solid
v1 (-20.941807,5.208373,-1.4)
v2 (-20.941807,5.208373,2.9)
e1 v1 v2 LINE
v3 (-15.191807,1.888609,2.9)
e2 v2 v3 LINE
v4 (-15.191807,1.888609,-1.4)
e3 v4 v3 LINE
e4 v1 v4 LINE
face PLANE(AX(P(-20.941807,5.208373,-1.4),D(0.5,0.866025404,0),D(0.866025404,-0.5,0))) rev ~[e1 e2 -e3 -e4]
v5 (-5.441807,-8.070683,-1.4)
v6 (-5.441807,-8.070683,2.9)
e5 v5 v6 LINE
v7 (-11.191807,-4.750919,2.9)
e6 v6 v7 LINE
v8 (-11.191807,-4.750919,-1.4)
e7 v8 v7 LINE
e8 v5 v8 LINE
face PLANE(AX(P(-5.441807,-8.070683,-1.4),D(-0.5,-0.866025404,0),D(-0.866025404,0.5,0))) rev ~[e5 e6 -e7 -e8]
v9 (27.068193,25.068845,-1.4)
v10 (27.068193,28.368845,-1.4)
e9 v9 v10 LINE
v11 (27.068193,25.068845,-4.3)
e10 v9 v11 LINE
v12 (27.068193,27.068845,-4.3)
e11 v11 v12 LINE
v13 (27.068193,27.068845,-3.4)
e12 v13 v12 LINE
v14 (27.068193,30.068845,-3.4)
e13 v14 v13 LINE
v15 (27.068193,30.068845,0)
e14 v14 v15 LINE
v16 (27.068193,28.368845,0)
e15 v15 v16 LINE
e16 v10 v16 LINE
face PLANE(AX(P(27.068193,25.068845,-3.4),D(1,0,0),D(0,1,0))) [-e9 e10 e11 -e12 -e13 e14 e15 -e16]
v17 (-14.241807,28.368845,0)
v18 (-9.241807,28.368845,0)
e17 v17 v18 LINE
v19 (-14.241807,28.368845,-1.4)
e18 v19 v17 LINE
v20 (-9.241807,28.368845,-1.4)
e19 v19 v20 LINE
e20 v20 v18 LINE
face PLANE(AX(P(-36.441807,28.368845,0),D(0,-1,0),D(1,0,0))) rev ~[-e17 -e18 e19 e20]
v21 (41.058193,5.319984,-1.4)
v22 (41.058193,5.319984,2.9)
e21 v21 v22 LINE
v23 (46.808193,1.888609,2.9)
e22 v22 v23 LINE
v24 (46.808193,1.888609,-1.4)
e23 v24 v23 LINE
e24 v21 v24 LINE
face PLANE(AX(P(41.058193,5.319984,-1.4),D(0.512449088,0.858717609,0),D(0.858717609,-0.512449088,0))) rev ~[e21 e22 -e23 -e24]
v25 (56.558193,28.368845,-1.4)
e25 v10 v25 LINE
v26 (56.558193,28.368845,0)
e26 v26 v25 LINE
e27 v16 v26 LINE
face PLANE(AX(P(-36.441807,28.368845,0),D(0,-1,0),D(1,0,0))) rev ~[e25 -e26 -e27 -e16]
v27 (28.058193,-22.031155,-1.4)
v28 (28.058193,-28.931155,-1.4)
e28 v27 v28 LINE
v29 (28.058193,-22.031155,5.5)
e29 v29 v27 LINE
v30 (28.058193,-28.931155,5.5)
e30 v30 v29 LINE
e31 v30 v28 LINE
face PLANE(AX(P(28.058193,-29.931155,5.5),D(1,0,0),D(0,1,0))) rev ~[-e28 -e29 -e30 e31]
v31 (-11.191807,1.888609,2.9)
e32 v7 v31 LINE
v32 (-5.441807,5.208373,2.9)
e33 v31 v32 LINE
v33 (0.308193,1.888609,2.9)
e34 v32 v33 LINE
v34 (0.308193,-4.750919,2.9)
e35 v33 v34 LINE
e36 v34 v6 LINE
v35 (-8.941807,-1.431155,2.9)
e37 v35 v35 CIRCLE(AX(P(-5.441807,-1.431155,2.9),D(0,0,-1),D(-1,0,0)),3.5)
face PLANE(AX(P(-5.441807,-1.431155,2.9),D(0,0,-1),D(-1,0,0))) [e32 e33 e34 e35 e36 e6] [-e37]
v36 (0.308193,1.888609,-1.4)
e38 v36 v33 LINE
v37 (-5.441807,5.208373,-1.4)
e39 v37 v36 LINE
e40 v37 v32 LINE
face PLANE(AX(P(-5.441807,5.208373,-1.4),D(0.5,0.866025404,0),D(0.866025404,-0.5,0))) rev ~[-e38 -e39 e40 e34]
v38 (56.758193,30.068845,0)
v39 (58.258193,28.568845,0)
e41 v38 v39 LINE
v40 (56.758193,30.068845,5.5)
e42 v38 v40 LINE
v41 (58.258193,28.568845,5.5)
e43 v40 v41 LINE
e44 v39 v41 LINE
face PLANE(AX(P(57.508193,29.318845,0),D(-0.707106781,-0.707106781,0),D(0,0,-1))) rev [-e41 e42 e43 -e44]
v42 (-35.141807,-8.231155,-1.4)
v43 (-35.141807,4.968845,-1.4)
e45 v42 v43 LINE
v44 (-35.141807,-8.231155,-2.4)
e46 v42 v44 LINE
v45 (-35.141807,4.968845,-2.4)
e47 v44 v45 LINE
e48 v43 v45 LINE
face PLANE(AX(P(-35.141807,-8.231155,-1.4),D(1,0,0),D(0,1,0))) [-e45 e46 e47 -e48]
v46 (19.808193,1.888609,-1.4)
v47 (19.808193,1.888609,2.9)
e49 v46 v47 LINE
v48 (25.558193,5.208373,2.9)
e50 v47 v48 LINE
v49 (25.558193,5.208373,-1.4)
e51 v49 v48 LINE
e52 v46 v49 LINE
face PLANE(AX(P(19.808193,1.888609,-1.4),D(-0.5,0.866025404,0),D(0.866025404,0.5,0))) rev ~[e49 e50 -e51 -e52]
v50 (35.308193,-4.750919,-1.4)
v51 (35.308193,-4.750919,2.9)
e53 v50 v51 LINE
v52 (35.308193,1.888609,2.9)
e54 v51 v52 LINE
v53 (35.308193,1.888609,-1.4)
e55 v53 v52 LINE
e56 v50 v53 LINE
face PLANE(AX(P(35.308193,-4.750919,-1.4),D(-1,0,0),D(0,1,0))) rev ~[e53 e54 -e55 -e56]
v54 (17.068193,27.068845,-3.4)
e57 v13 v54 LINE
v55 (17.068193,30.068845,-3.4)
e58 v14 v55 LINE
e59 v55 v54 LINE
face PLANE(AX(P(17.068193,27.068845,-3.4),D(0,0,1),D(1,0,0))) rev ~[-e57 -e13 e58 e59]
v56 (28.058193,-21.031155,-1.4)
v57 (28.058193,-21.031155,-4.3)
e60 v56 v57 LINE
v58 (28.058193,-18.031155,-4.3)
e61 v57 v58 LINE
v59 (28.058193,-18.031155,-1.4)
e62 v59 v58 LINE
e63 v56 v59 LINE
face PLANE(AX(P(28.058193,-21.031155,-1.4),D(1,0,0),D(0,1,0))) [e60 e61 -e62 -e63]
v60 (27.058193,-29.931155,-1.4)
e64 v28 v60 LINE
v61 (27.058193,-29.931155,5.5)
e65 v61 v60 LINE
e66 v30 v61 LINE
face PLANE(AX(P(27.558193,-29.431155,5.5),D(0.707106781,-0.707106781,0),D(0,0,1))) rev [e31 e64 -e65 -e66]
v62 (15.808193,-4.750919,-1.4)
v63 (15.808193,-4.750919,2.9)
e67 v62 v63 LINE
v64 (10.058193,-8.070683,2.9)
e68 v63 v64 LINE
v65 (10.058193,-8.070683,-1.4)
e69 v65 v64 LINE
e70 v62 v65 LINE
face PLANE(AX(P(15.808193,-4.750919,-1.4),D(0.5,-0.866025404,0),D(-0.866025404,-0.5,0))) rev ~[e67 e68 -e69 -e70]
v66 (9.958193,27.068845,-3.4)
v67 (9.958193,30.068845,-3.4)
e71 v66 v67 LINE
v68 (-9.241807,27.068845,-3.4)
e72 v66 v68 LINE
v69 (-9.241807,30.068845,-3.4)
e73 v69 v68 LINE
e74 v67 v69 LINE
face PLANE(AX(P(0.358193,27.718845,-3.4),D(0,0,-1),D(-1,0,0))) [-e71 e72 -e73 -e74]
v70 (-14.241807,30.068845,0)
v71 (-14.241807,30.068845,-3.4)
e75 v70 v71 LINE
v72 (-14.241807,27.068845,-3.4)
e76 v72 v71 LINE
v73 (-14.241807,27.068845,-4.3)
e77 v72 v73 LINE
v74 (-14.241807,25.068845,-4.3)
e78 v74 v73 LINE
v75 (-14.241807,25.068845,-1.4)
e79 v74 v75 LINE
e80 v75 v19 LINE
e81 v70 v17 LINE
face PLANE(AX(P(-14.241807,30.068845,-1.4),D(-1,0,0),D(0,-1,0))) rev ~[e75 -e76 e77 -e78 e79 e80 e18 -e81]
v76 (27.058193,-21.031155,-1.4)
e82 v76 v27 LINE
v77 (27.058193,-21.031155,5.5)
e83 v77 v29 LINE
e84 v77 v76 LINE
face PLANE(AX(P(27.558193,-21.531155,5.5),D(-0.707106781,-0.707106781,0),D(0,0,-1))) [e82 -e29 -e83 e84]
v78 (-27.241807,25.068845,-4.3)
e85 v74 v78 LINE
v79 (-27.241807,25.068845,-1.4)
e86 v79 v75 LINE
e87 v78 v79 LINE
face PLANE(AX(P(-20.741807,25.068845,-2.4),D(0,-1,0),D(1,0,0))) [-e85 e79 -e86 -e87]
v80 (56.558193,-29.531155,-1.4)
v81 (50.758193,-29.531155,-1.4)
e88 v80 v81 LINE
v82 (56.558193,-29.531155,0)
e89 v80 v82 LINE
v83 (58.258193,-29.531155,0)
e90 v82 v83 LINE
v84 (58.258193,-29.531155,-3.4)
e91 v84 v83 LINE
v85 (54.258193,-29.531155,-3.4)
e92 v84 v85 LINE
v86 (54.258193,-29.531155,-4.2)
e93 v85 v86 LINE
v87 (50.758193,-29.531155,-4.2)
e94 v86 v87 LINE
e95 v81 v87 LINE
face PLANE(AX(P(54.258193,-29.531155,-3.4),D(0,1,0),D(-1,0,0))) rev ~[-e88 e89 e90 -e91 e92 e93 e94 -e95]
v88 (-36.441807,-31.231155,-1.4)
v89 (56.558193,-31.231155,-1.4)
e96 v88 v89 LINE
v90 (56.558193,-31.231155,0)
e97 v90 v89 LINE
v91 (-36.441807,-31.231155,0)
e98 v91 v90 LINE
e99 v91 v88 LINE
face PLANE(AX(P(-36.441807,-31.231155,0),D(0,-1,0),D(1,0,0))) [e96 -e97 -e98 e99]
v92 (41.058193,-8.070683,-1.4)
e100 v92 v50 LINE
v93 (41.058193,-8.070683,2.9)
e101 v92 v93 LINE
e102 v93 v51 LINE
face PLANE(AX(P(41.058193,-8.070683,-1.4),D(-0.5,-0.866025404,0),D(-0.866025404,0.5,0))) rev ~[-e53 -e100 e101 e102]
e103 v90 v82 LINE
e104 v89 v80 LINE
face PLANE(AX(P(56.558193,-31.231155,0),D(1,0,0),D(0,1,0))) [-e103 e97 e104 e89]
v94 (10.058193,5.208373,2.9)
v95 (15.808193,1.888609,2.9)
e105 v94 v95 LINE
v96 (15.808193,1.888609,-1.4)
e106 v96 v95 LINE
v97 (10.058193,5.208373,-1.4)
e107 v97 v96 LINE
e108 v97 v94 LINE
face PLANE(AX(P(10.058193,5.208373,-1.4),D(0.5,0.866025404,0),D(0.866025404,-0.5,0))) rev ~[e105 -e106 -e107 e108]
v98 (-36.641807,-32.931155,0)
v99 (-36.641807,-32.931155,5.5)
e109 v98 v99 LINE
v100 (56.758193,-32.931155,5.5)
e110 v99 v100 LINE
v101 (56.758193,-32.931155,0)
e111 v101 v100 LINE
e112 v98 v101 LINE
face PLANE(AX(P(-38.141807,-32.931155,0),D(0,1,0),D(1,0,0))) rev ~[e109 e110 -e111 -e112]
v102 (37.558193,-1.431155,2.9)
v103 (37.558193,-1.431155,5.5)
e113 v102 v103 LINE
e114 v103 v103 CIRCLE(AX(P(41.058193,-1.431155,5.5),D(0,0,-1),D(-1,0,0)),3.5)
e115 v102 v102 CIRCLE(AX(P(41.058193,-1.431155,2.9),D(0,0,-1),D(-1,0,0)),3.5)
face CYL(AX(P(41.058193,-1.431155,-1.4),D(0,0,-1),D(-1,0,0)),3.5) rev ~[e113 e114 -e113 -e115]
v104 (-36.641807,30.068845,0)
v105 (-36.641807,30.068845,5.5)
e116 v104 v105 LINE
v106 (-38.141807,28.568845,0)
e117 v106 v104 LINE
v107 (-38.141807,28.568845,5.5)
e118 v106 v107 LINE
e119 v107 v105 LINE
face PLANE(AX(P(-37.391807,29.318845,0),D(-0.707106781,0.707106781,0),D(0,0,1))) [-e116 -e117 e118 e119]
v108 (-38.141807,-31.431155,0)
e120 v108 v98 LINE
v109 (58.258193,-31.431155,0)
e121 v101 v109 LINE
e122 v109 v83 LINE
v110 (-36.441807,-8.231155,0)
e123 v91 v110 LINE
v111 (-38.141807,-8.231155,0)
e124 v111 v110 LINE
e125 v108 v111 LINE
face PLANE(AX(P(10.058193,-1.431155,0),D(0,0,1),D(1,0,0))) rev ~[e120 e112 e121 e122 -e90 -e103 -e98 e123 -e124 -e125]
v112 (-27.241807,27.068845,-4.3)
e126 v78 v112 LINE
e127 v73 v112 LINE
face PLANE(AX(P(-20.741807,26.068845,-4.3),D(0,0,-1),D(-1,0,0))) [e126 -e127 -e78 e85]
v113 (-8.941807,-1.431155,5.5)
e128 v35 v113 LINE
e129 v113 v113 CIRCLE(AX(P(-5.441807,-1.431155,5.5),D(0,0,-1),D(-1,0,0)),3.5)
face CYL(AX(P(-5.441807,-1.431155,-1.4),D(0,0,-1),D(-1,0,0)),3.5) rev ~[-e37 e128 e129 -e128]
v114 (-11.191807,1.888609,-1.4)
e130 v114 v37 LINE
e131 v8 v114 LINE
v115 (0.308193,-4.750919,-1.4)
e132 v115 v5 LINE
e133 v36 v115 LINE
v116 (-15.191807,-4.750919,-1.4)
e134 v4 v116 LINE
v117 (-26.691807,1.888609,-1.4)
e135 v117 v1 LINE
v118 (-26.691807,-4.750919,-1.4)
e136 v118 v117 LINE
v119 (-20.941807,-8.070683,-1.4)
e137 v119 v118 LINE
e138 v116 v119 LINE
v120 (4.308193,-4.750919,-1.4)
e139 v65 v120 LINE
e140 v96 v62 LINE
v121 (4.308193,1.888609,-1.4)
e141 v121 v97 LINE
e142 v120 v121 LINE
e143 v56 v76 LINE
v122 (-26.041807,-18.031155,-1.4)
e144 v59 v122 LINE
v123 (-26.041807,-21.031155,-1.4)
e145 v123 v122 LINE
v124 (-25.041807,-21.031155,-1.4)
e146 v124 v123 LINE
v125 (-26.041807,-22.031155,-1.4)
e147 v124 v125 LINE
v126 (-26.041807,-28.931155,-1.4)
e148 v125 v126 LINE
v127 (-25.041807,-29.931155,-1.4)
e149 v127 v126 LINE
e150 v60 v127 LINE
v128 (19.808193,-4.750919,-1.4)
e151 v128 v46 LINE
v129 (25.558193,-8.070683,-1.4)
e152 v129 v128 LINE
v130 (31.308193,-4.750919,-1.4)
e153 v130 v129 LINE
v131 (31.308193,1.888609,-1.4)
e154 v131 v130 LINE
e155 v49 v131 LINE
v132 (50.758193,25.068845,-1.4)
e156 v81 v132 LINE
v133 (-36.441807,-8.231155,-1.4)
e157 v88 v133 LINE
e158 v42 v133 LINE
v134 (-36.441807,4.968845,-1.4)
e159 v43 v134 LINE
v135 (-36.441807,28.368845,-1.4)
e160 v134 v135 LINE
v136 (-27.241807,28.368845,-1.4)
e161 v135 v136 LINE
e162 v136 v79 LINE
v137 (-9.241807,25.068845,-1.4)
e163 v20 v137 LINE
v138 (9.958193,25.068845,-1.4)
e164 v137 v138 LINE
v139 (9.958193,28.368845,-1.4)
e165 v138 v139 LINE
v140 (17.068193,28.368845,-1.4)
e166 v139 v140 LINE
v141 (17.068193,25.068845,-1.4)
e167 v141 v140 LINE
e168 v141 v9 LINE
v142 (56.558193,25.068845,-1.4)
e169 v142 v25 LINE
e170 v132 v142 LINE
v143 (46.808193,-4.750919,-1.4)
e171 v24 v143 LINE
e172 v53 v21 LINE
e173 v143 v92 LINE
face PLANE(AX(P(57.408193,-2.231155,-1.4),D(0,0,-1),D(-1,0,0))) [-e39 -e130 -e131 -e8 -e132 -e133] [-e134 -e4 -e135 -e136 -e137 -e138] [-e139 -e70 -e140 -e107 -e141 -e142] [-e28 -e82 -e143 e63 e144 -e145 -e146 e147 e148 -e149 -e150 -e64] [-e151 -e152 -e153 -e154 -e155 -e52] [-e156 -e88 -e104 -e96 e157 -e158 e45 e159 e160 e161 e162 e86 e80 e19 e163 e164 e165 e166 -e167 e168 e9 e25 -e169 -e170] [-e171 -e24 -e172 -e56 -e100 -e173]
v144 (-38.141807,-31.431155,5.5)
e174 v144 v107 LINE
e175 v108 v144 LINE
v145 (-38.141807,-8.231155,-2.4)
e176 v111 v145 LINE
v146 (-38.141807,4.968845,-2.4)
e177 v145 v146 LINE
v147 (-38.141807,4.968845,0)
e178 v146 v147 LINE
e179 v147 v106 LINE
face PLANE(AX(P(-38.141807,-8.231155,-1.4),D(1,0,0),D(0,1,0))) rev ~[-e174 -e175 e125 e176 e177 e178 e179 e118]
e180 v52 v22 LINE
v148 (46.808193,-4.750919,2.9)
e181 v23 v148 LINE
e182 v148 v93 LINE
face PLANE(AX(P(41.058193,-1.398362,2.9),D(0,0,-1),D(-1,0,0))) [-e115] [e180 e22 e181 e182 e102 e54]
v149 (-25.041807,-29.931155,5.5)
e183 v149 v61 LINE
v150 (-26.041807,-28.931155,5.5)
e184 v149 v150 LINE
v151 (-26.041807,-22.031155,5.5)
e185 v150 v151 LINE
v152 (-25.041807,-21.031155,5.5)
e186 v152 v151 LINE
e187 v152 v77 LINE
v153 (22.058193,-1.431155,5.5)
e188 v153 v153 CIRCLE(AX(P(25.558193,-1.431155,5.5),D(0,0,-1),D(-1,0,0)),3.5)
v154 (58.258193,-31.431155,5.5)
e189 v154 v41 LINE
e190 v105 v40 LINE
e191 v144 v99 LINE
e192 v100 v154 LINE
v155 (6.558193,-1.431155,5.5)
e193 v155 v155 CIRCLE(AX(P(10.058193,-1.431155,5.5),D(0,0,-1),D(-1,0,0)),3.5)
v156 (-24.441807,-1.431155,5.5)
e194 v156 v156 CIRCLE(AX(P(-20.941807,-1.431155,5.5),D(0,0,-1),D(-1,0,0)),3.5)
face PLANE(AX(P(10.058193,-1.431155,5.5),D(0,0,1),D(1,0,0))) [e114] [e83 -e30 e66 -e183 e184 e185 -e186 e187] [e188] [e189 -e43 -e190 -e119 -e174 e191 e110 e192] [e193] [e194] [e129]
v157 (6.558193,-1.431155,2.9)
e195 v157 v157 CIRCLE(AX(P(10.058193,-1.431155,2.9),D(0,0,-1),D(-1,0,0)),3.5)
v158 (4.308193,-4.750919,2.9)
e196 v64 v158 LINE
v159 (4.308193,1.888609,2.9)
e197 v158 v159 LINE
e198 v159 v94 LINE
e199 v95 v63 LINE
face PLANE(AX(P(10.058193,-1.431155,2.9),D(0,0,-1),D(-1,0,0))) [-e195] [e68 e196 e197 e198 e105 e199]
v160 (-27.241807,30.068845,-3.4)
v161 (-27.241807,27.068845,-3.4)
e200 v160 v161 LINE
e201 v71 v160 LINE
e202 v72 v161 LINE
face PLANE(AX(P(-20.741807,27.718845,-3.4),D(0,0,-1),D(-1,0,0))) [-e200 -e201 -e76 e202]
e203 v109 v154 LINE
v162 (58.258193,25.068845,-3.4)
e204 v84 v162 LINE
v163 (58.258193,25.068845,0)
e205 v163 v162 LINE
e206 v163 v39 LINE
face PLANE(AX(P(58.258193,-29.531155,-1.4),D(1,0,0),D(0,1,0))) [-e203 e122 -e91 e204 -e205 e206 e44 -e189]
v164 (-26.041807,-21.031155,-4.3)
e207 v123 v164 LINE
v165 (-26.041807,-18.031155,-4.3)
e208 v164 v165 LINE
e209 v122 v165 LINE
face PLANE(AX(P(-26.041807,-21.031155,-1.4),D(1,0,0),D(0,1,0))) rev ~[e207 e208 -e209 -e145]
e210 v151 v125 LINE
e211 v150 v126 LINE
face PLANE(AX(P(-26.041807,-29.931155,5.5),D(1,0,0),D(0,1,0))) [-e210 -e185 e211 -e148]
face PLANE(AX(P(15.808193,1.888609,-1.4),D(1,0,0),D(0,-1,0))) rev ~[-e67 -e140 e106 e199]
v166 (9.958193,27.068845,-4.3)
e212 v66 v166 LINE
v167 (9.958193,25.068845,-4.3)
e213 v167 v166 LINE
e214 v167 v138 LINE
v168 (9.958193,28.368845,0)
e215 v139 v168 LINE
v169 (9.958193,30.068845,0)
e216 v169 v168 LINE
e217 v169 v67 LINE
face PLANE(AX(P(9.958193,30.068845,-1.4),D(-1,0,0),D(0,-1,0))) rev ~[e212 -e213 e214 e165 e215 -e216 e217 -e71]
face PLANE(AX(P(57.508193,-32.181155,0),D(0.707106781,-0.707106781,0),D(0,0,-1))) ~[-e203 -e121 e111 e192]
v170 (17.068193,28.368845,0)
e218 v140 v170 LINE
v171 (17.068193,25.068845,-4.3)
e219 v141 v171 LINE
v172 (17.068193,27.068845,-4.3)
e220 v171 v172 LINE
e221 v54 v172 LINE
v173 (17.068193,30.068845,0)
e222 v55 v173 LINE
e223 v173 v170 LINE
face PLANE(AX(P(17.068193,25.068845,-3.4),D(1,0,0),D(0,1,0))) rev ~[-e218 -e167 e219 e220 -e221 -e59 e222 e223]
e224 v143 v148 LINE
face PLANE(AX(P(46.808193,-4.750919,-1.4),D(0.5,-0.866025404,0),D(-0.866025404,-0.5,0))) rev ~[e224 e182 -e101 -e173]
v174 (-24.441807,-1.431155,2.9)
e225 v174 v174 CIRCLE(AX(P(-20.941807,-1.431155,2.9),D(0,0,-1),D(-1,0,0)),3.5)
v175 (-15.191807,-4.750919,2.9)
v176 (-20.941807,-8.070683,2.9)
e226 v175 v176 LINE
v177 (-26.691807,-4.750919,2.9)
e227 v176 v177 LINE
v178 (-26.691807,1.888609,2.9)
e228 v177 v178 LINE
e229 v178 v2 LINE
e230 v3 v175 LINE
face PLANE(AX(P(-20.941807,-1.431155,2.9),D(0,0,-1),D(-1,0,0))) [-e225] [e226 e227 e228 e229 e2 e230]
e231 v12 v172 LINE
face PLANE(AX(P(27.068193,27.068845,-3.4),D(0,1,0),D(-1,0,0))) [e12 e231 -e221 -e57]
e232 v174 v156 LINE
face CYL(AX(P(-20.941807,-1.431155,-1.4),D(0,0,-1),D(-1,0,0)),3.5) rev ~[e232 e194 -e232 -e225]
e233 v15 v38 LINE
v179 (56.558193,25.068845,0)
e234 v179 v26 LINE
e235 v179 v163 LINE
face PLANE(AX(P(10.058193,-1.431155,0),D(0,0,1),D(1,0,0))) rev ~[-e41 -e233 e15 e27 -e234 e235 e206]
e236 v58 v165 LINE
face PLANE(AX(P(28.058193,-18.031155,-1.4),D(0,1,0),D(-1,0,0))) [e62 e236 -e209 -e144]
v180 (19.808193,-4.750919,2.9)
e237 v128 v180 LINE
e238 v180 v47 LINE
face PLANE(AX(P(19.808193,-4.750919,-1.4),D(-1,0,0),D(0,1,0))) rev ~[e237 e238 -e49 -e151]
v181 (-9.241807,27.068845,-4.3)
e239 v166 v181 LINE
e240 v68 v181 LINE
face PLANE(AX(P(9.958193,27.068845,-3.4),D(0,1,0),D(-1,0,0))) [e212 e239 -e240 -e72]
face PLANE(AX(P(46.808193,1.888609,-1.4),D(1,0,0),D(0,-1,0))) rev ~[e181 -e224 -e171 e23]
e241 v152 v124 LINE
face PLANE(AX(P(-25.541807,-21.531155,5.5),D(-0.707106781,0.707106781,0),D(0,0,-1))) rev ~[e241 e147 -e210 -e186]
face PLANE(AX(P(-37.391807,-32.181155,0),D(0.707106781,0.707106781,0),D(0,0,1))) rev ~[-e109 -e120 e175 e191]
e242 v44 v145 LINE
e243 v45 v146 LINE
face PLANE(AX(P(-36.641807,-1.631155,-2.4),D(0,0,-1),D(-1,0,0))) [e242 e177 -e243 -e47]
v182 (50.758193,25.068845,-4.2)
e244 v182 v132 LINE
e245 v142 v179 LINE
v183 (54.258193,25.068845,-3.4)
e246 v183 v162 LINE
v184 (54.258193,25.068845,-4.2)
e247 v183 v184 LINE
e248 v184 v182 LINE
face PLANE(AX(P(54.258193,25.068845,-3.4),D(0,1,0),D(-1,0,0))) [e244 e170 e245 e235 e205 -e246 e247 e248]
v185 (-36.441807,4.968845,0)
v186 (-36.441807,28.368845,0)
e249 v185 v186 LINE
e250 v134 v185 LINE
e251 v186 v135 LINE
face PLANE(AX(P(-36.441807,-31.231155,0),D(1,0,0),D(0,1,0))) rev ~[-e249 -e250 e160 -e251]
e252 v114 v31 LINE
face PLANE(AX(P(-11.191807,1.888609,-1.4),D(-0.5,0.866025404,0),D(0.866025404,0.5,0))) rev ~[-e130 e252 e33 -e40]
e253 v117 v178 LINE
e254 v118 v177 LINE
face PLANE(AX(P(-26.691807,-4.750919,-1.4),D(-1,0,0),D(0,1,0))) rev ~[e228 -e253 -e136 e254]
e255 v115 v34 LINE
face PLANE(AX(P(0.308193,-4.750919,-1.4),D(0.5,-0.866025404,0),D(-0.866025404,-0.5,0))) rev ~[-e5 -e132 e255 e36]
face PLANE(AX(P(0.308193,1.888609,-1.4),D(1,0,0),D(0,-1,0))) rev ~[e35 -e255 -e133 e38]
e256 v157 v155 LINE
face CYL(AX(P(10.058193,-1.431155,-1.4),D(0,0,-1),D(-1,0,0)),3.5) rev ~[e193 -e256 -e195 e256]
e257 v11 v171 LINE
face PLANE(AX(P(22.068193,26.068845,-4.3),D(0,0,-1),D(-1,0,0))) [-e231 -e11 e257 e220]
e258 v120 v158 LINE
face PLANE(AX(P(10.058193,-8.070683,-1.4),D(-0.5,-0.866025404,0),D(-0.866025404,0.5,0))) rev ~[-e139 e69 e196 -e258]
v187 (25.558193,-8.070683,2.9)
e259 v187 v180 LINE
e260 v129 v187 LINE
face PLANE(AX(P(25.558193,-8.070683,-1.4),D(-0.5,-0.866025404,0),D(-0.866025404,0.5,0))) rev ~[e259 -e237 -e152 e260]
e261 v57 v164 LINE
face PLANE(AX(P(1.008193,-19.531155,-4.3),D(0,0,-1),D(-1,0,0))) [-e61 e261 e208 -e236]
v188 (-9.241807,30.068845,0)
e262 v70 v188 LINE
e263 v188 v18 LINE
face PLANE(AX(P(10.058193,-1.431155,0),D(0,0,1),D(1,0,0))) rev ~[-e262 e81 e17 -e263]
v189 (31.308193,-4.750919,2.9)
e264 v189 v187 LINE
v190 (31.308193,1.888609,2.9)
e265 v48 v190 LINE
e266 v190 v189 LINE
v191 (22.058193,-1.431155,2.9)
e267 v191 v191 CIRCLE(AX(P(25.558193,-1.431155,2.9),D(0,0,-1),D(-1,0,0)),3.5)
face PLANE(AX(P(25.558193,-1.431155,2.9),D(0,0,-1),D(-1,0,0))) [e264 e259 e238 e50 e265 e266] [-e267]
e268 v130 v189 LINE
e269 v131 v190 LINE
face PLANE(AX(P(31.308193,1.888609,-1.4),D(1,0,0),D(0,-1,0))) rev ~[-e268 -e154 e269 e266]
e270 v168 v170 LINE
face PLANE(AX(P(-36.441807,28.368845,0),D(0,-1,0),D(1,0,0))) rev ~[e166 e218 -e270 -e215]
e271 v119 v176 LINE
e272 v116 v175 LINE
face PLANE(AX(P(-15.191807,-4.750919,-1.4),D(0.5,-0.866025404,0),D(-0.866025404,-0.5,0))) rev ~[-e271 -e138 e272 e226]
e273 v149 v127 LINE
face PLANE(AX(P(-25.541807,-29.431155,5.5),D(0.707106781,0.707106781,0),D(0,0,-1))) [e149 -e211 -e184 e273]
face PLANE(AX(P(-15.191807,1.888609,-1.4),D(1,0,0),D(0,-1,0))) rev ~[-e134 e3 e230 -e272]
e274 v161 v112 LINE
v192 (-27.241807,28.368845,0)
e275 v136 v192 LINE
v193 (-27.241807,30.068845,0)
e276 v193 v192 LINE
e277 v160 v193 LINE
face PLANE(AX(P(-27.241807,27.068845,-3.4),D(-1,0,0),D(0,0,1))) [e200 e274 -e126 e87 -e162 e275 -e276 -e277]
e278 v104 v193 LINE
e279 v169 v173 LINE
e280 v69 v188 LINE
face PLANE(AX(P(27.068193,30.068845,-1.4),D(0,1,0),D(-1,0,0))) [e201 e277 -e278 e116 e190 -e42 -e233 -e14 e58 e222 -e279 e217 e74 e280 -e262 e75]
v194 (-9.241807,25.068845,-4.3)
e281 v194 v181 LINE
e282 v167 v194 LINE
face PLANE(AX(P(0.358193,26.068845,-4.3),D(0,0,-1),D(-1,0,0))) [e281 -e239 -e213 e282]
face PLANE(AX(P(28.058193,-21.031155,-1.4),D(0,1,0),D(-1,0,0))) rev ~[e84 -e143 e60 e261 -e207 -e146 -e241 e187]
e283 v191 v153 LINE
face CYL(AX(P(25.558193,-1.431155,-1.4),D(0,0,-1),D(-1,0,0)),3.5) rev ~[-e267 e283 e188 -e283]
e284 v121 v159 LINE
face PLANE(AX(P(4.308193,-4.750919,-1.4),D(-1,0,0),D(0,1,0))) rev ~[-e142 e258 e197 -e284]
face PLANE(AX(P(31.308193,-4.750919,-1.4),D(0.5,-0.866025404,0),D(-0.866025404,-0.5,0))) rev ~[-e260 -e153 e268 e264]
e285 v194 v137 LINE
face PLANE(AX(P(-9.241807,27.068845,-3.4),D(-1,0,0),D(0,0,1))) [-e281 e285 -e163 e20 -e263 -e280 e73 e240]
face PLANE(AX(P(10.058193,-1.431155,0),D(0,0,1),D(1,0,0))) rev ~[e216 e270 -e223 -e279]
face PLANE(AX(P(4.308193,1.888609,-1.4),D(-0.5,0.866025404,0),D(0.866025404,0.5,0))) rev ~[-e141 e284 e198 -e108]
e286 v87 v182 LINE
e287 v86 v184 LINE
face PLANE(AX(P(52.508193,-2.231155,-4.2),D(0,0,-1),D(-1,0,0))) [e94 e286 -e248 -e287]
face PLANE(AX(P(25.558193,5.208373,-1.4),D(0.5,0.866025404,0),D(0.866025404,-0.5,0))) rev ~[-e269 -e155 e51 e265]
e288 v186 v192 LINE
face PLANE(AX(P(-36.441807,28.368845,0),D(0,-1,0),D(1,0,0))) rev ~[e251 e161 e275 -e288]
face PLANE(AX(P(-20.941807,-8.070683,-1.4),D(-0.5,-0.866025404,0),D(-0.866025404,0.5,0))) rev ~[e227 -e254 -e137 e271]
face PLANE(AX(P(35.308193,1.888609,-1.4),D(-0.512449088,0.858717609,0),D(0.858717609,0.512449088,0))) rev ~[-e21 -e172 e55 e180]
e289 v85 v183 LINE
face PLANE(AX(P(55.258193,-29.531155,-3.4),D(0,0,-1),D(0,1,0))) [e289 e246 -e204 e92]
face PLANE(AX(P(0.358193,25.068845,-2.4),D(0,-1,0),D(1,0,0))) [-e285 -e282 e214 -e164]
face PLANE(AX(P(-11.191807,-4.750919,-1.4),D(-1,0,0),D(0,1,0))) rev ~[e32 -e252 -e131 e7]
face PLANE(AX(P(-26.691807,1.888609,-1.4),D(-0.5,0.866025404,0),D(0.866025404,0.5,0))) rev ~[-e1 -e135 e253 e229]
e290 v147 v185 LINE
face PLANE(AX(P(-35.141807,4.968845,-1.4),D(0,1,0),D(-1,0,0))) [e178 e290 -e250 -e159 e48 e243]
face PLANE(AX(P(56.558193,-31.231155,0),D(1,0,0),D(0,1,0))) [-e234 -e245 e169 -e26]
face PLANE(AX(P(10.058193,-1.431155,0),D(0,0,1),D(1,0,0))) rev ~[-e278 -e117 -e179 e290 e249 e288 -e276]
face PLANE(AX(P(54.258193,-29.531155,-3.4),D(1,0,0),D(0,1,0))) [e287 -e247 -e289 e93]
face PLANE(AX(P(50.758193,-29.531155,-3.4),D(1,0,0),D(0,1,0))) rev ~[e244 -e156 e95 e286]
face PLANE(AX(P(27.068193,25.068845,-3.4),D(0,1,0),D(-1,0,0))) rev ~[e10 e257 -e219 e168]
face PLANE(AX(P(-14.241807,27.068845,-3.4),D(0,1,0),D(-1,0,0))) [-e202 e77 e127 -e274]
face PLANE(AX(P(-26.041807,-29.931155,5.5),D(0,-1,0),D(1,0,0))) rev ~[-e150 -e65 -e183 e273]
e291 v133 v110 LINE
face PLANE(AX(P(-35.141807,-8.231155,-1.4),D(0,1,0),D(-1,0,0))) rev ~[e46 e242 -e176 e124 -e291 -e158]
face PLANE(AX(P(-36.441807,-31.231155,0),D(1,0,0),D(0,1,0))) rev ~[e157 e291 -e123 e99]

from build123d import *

# Parameters (mm, degrees)
SKETCH1_W            = 96.4
SKETCH1_H            = 63
BOSS_EXTRUDE1_DEPTH  = 5.5
SKETCH1_5_W          = 93
SKETCH1_5_H          = 59.6
BOSS_EXTRUDE2_DEPTH  = 1.4
CHAMFER1_SIZE        = 1.5
SKETCH3_W            = 1.7
SKETCH3_H            = 13.2
BOSS_EXTRUDE4_DEPTH  = 1.7
SKETCH4_W            = 13
SKETCH4_H            = 1.7
SKETCH4_W_2          = 10
SKETCH4_W_3          = 19.2
BOSS_EXTRUDE5_DEPTH  = 1.6
SKETCH4_3_W          = 13
SKETCH4_3_H          = 3
SKETCH4_3_W_2        = 10
SKETCH4_3_W_3        = 19.2
BOSS_EXTRUDE6_DEPTH  = 2
SKETCH3_5_W          = 3
SKETCH3_5_H          = 13.2
BOSS_EXTRUDE7_DEPTH  = 1
SKETCH5_W            = 1.7
SKETCH5_H            = 54.6
BOSS_EXTRUDE8_DEPTH  = 1.6
SKETCH5_3_W          = 3
SKETCH5_3_H          = 54.6
BOSS_EXTRUDE9_DEPTH  = 2
SKETCH7_W            = 54.1
SKETCH7_H            = 8.9
CUT_EXTRUDE2_DEPTH   = 12
CHAMFER2_SIZE        = 1
SKETCH11_W           = 10
SKETCH11_H           = 2
SKETCH11_W_2         = 19.2
SKETCH11_W_3         = 13
BOSS_EXTRUDE10_DEPTH = 2
SKETCH13_W           = 10
SKETCH13_H           = 2
SKETCH13_W_2         = 19.2
SKETCH13_W_3         = 13
BOSS_EXTRUDE12_DEPTH = 0.9
SKETCH14_W           = 54.1
SKETCH14_H           = 3
BOSS_EXTRUDE13_DEPTH = 2.9
SKETCH15_W           = 2
SKETCH15_H           = 54.6
BOSS_EXTRUDE14_DEPTH = 4.5
SKETCH16_W           = 3.5
SKETCH16_H           = 54.6
BOSS_EXTRUDE15_DEPTH = 0.8
SKETCH18_R           = 3.5
CUT_EXTRUDE4_DEPTH   = 12
CUT_EXTRUDE5_DEPTH   = 4.3


with BuildPart() as part:
    # Sketch1 → Boss-Extrude1 (new body)
    with BuildSketch(Plane.XY):
        with Locations((10.058192988, -1.431154761)):
            Rectangle(SKETCH1_W, SKETCH1_H)
    extrude(amount=BOSS_EXTRUDE1_DEPTH)

    # Sketch1<5> → Boss-Extrude2 (add)
    with BuildSketch(Plane.XY):
        with Locations((10.058192988, -1.431154761)):
            Rectangle(SKETCH1_5_W, SKETCH1_5_H)
    extrude(amount=-BOSS_EXTRUDE2_DEPTH)

    # Chamfer1
    chamfer1_edges = [part.edges().sort_by_distance(p)[0] for p in [
        (58.258192988, 30.068845239, 2.75),
        (-38.141807012, 30.068845239, 2.75),
        (-38.141807012, -32.931154761, 2.75),
        (58.258192988, -32.931154761, 2.75),
    ]]
    chamfer(chamfer1_edges, length=CHAMFER1_SIZE)

    # Sketch3 → Boss-Extrude4 (add)
    with BuildSketch(Plane(origin=(0, 0, -1.4), x_dir=(-1, 0, 0), z_dir=(0, 0, -1))):
        with Locations((37.291807012, -1.631154761)):
            Rectangle(SKETCH3_W, SKETCH3_H)
    extrude(amount=-BOSS_EXTRUDE4_DEPTH)

    # Sketch4 → Boss-Extrude5 (add)
    with BuildSketch(Plane(origin=(0, 0, -1.4), x_dir=(-1, 0, 0), z_dir=(0, 0, -1))):
        with Locations((20.741807012, 29.218845239)):
            Rectangle(SKETCH4_W, SKETCH4_H)
        with Locations((-22.068192988, 29.218845239)):
            Rectangle(SKETCH4_W_2, SKETCH4_H)
        with Locations((-0.358192988, 29.218845239)):
            Rectangle(SKETCH4_W_3, SKETCH4_H)
    extrude(amount=-BOSS_EXTRUDE5_DEPTH)

    # Sketch4<3> → Boss-Extrude6 (add)
    with BuildSketch(Plane(origin=(0, 0, -1.4), x_dir=(-1, 0, 0), z_dir=(0, 0, -1))):
        with Locations((20.741807012, 28.568845239)):
            Rectangle(SKETCH4_3_W, SKETCH4_3_H)
        with Locations((-22.068192988, 28.568845239)):
            Rectangle(SKETCH4_3_W_2, SKETCH4_3_H)
        with Locations((-0.358192988, 28.568845239)):
            Rectangle(SKETCH4_3_W_3, SKETCH4_3_H)
    extrude(amount=BOSS_EXTRUDE6_DEPTH)

    # Sketch3<5> → Boss-Extrude7 (add)
    with BuildSketch(Plane(origin=(0, 0, -1.4), x_dir=(-1, 0, 0), z_dir=(0, 0, -1))):
        with Locations((36.641807012, -1.631154761)):
            Rectangle(SKETCH3_5_W, SKETCH3_5_H)
    extrude(amount=BOSS_EXTRUDE7_DEPTH)

    # Sketch5 → Boss-Extrude8 (add)
    with BuildSketch(Plane(origin=(0, 0, -1.4), x_dir=(-1, 0, 0), z_dir=(0, 0, -1))):
        with Locations((-57.408192988, -2.231154761)):
            Rectangle(SKETCH5_W, SKETCH5_H)
    extrude(amount=-BOSS_EXTRUDE8_DEPTH)

    # Sketch5<3> → Boss-Extrude9 (add)
    with BuildSketch(Plane(origin=(0, 0, -1.4), x_dir=(-1, 0, 0), z_dir=(0, 0, -1))):
        with Locations((-56.758192988, -2.231154761)):
            Rectangle(SKETCH5_3_W, SKETCH5_3_H)
    extrude(amount=BOSS_EXTRUDE9_DEPTH)

    # Sketch7 → Cut-Extrude2 (cut)
    with BuildSketch(Plane.XY.offset(5.5)):
        with Locations((1.008192988, -25.481154761)):
            Rectangle(SKETCH7_W, SKETCH7_H)
    extrude(amount=-CUT_EXTRUDE2_DEPTH, mode=Mode.SUBTRACT)

    # Chamfer2
    chamfer2_edges = [part.edges().sort_by_distance(p)[0] for p in [
        (28.058192988, -21.031154761, 2.05),
        (28.058192988, -29.931154761, 2.05),
        (-26.041807012, -29.931154761, 2.05),
        (-26.041807012, -21.031154761, 2.05),
    ]]
    chamfer(chamfer2_edges, length=CHAMFER2_SIZE)

    # Sketch11 → Boss-Extrude10 (add)
    with BuildSketch(Plane.XZ.offset(-27.068845239)):
        with Locations((22.068192988, -2.4)):
            Rectangle(SKETCH11_W, SKETCH11_H)
        with Locations((0.358192988, -2.4)):
            Rectangle(SKETCH11_W_2, SKETCH11_H)
        with Locations((-20.741807012, -2.4)):
            Rectangle(SKETCH11_W_3, SKETCH11_H)
    extrude(amount=BOSS_EXTRUDE10_DEPTH)

    # Sketch13 → Boss-Extrude12 (add)
    with BuildSketch(Plane(origin=(0, 0, -3.4), x_dir=(-1, 0, 0), z_dir=(0, 0, -1))):
        with Locations((-22.068192988, 26.068845239)):
            Rectangle(SKETCH13_W, SKETCH13_H)
        with Locations((-0.358192988, 26.068845239)):
            Rectangle(SKETCH13_W_2, SKETCH13_H)
        with Locations((20.741807012, 26.068845239)):
            Rectangle(SKETCH13_W_3, SKETCH13_H)
    extrude(amount=BOSS_EXTRUDE12_DEPTH)

    # Sketch14 → Boss-Extrude13 (add)
    with BuildSketch(Plane(origin=(0, 0, -1.4), x_dir=(-1, 0, 0), z_dir=(0, 0, -1))):
        with Locations((-1.008192988, -19.531154761)):
            Rectangle(SKETCH14_W, SKETCH14_H)
    extrude(amount=BOSS_EXTRUDE13_DEPTH)

    # Sketch15 → Boss-Extrude14 (add)
    with BuildSketch(Plane.ZY.offset(-55.258192988)):
        with Locations((-2.4, -2.231154761)):
            Rectangle(SKETCH15_W, SKETCH15_H)
    extrude(amount=BOSS_EXTRUDE14_DEPTH)

    # Sketch16 → Boss-Extrude15 (add)
    with BuildSketch(Plane(origin=(0, 0, -3.4), x_dir=(-1, 0, 0), z_dir=(0, 0, -1))):
        with Locations((-52.508192988, -2.231154761)):
            Rectangle(SKETCH16_W, SKETCH16_H)
    extrude(amount=BOSS_EXTRUDE15_DEPTH)

    # Sketch18 → Cut-Extrude4 (cut)
    with BuildSketch(Plane(origin=(0, 0, -1.4), x_dir=(-1, 0, 0), z_dir=(0, 0, -1))):
        with Locations((-41.058192988, -1.431154761)):
            Circle(SKETCH18_R)
        with Locations((-25.558192988, -1.431154761)):
            Circle(SKETCH18_R)
        with Locations((-10.058192988, -1.431154761)):
            Circle(SKETCH18_R)
        with Locations((5.441807012, -1.431154761)):
            Circle(SKETCH18_R)
        with Locations((20.941807012, -1.431154761)):
            Circle(SKETCH18_R)
    extrude(amount=-CUT_EXTRUDE4_DEPTH, mode=Mode.SUBTRACT)

    # Sketch18<3> → Cut-Extrude5 (cut)
    with BuildSketch(Plane(origin=(0, 0, -1.4), x_dir=(-1, 0, 0), z_dir=(0, 0, -1))):
        Polygon((-41.058192988, -8.070682857), (-35.308192988, -4.750918809), (-35.308192988, 1.888609286), (-41.058192988, 5.319984429), (-46.808192988, 1.888609286), (-46.808192988, -4.750918809), align=None)
        Polygon((-25.558192988, 5.208373334), (-31.308192988, 1.888609286), (-31.308192988, -4.750918809), (-25.558192988, -8.070682857), (-19.808192988, -4.750918809), (-19.808192988, 1.888609286), align=None)
        Polygon((-10.058192988, 5.208373334), (-15.808192988, 1.888609286), (-15.808192988, -4.750918809), (-10.058192988, -8.070682857), (-4.308192988, -4.750918809), (-4.308192988, 1.888609286), align=None)
        Polygon((5.441807012, 5.208373334), (-0.308192988, 1.888609286), (-0.308192988, -4.750918809), (5.441807012, -8.070682857), (11.191807012, -4.750918809), (11.191807012, 1.888609286), align=None)
        Polygon((20.941807012, 5.208373334), (15.191807012, 1.888609286), (15.191807012, -4.750918809), (20.941807012, -8.070682857), (26.691807012, -4.750918809), (26.691807012, 1.888609286), align=None)
    extrude(amount=-CUT_EXTRUDE5_DEPTH, mode=Mode.SUBTRACT)


solid = part.part
